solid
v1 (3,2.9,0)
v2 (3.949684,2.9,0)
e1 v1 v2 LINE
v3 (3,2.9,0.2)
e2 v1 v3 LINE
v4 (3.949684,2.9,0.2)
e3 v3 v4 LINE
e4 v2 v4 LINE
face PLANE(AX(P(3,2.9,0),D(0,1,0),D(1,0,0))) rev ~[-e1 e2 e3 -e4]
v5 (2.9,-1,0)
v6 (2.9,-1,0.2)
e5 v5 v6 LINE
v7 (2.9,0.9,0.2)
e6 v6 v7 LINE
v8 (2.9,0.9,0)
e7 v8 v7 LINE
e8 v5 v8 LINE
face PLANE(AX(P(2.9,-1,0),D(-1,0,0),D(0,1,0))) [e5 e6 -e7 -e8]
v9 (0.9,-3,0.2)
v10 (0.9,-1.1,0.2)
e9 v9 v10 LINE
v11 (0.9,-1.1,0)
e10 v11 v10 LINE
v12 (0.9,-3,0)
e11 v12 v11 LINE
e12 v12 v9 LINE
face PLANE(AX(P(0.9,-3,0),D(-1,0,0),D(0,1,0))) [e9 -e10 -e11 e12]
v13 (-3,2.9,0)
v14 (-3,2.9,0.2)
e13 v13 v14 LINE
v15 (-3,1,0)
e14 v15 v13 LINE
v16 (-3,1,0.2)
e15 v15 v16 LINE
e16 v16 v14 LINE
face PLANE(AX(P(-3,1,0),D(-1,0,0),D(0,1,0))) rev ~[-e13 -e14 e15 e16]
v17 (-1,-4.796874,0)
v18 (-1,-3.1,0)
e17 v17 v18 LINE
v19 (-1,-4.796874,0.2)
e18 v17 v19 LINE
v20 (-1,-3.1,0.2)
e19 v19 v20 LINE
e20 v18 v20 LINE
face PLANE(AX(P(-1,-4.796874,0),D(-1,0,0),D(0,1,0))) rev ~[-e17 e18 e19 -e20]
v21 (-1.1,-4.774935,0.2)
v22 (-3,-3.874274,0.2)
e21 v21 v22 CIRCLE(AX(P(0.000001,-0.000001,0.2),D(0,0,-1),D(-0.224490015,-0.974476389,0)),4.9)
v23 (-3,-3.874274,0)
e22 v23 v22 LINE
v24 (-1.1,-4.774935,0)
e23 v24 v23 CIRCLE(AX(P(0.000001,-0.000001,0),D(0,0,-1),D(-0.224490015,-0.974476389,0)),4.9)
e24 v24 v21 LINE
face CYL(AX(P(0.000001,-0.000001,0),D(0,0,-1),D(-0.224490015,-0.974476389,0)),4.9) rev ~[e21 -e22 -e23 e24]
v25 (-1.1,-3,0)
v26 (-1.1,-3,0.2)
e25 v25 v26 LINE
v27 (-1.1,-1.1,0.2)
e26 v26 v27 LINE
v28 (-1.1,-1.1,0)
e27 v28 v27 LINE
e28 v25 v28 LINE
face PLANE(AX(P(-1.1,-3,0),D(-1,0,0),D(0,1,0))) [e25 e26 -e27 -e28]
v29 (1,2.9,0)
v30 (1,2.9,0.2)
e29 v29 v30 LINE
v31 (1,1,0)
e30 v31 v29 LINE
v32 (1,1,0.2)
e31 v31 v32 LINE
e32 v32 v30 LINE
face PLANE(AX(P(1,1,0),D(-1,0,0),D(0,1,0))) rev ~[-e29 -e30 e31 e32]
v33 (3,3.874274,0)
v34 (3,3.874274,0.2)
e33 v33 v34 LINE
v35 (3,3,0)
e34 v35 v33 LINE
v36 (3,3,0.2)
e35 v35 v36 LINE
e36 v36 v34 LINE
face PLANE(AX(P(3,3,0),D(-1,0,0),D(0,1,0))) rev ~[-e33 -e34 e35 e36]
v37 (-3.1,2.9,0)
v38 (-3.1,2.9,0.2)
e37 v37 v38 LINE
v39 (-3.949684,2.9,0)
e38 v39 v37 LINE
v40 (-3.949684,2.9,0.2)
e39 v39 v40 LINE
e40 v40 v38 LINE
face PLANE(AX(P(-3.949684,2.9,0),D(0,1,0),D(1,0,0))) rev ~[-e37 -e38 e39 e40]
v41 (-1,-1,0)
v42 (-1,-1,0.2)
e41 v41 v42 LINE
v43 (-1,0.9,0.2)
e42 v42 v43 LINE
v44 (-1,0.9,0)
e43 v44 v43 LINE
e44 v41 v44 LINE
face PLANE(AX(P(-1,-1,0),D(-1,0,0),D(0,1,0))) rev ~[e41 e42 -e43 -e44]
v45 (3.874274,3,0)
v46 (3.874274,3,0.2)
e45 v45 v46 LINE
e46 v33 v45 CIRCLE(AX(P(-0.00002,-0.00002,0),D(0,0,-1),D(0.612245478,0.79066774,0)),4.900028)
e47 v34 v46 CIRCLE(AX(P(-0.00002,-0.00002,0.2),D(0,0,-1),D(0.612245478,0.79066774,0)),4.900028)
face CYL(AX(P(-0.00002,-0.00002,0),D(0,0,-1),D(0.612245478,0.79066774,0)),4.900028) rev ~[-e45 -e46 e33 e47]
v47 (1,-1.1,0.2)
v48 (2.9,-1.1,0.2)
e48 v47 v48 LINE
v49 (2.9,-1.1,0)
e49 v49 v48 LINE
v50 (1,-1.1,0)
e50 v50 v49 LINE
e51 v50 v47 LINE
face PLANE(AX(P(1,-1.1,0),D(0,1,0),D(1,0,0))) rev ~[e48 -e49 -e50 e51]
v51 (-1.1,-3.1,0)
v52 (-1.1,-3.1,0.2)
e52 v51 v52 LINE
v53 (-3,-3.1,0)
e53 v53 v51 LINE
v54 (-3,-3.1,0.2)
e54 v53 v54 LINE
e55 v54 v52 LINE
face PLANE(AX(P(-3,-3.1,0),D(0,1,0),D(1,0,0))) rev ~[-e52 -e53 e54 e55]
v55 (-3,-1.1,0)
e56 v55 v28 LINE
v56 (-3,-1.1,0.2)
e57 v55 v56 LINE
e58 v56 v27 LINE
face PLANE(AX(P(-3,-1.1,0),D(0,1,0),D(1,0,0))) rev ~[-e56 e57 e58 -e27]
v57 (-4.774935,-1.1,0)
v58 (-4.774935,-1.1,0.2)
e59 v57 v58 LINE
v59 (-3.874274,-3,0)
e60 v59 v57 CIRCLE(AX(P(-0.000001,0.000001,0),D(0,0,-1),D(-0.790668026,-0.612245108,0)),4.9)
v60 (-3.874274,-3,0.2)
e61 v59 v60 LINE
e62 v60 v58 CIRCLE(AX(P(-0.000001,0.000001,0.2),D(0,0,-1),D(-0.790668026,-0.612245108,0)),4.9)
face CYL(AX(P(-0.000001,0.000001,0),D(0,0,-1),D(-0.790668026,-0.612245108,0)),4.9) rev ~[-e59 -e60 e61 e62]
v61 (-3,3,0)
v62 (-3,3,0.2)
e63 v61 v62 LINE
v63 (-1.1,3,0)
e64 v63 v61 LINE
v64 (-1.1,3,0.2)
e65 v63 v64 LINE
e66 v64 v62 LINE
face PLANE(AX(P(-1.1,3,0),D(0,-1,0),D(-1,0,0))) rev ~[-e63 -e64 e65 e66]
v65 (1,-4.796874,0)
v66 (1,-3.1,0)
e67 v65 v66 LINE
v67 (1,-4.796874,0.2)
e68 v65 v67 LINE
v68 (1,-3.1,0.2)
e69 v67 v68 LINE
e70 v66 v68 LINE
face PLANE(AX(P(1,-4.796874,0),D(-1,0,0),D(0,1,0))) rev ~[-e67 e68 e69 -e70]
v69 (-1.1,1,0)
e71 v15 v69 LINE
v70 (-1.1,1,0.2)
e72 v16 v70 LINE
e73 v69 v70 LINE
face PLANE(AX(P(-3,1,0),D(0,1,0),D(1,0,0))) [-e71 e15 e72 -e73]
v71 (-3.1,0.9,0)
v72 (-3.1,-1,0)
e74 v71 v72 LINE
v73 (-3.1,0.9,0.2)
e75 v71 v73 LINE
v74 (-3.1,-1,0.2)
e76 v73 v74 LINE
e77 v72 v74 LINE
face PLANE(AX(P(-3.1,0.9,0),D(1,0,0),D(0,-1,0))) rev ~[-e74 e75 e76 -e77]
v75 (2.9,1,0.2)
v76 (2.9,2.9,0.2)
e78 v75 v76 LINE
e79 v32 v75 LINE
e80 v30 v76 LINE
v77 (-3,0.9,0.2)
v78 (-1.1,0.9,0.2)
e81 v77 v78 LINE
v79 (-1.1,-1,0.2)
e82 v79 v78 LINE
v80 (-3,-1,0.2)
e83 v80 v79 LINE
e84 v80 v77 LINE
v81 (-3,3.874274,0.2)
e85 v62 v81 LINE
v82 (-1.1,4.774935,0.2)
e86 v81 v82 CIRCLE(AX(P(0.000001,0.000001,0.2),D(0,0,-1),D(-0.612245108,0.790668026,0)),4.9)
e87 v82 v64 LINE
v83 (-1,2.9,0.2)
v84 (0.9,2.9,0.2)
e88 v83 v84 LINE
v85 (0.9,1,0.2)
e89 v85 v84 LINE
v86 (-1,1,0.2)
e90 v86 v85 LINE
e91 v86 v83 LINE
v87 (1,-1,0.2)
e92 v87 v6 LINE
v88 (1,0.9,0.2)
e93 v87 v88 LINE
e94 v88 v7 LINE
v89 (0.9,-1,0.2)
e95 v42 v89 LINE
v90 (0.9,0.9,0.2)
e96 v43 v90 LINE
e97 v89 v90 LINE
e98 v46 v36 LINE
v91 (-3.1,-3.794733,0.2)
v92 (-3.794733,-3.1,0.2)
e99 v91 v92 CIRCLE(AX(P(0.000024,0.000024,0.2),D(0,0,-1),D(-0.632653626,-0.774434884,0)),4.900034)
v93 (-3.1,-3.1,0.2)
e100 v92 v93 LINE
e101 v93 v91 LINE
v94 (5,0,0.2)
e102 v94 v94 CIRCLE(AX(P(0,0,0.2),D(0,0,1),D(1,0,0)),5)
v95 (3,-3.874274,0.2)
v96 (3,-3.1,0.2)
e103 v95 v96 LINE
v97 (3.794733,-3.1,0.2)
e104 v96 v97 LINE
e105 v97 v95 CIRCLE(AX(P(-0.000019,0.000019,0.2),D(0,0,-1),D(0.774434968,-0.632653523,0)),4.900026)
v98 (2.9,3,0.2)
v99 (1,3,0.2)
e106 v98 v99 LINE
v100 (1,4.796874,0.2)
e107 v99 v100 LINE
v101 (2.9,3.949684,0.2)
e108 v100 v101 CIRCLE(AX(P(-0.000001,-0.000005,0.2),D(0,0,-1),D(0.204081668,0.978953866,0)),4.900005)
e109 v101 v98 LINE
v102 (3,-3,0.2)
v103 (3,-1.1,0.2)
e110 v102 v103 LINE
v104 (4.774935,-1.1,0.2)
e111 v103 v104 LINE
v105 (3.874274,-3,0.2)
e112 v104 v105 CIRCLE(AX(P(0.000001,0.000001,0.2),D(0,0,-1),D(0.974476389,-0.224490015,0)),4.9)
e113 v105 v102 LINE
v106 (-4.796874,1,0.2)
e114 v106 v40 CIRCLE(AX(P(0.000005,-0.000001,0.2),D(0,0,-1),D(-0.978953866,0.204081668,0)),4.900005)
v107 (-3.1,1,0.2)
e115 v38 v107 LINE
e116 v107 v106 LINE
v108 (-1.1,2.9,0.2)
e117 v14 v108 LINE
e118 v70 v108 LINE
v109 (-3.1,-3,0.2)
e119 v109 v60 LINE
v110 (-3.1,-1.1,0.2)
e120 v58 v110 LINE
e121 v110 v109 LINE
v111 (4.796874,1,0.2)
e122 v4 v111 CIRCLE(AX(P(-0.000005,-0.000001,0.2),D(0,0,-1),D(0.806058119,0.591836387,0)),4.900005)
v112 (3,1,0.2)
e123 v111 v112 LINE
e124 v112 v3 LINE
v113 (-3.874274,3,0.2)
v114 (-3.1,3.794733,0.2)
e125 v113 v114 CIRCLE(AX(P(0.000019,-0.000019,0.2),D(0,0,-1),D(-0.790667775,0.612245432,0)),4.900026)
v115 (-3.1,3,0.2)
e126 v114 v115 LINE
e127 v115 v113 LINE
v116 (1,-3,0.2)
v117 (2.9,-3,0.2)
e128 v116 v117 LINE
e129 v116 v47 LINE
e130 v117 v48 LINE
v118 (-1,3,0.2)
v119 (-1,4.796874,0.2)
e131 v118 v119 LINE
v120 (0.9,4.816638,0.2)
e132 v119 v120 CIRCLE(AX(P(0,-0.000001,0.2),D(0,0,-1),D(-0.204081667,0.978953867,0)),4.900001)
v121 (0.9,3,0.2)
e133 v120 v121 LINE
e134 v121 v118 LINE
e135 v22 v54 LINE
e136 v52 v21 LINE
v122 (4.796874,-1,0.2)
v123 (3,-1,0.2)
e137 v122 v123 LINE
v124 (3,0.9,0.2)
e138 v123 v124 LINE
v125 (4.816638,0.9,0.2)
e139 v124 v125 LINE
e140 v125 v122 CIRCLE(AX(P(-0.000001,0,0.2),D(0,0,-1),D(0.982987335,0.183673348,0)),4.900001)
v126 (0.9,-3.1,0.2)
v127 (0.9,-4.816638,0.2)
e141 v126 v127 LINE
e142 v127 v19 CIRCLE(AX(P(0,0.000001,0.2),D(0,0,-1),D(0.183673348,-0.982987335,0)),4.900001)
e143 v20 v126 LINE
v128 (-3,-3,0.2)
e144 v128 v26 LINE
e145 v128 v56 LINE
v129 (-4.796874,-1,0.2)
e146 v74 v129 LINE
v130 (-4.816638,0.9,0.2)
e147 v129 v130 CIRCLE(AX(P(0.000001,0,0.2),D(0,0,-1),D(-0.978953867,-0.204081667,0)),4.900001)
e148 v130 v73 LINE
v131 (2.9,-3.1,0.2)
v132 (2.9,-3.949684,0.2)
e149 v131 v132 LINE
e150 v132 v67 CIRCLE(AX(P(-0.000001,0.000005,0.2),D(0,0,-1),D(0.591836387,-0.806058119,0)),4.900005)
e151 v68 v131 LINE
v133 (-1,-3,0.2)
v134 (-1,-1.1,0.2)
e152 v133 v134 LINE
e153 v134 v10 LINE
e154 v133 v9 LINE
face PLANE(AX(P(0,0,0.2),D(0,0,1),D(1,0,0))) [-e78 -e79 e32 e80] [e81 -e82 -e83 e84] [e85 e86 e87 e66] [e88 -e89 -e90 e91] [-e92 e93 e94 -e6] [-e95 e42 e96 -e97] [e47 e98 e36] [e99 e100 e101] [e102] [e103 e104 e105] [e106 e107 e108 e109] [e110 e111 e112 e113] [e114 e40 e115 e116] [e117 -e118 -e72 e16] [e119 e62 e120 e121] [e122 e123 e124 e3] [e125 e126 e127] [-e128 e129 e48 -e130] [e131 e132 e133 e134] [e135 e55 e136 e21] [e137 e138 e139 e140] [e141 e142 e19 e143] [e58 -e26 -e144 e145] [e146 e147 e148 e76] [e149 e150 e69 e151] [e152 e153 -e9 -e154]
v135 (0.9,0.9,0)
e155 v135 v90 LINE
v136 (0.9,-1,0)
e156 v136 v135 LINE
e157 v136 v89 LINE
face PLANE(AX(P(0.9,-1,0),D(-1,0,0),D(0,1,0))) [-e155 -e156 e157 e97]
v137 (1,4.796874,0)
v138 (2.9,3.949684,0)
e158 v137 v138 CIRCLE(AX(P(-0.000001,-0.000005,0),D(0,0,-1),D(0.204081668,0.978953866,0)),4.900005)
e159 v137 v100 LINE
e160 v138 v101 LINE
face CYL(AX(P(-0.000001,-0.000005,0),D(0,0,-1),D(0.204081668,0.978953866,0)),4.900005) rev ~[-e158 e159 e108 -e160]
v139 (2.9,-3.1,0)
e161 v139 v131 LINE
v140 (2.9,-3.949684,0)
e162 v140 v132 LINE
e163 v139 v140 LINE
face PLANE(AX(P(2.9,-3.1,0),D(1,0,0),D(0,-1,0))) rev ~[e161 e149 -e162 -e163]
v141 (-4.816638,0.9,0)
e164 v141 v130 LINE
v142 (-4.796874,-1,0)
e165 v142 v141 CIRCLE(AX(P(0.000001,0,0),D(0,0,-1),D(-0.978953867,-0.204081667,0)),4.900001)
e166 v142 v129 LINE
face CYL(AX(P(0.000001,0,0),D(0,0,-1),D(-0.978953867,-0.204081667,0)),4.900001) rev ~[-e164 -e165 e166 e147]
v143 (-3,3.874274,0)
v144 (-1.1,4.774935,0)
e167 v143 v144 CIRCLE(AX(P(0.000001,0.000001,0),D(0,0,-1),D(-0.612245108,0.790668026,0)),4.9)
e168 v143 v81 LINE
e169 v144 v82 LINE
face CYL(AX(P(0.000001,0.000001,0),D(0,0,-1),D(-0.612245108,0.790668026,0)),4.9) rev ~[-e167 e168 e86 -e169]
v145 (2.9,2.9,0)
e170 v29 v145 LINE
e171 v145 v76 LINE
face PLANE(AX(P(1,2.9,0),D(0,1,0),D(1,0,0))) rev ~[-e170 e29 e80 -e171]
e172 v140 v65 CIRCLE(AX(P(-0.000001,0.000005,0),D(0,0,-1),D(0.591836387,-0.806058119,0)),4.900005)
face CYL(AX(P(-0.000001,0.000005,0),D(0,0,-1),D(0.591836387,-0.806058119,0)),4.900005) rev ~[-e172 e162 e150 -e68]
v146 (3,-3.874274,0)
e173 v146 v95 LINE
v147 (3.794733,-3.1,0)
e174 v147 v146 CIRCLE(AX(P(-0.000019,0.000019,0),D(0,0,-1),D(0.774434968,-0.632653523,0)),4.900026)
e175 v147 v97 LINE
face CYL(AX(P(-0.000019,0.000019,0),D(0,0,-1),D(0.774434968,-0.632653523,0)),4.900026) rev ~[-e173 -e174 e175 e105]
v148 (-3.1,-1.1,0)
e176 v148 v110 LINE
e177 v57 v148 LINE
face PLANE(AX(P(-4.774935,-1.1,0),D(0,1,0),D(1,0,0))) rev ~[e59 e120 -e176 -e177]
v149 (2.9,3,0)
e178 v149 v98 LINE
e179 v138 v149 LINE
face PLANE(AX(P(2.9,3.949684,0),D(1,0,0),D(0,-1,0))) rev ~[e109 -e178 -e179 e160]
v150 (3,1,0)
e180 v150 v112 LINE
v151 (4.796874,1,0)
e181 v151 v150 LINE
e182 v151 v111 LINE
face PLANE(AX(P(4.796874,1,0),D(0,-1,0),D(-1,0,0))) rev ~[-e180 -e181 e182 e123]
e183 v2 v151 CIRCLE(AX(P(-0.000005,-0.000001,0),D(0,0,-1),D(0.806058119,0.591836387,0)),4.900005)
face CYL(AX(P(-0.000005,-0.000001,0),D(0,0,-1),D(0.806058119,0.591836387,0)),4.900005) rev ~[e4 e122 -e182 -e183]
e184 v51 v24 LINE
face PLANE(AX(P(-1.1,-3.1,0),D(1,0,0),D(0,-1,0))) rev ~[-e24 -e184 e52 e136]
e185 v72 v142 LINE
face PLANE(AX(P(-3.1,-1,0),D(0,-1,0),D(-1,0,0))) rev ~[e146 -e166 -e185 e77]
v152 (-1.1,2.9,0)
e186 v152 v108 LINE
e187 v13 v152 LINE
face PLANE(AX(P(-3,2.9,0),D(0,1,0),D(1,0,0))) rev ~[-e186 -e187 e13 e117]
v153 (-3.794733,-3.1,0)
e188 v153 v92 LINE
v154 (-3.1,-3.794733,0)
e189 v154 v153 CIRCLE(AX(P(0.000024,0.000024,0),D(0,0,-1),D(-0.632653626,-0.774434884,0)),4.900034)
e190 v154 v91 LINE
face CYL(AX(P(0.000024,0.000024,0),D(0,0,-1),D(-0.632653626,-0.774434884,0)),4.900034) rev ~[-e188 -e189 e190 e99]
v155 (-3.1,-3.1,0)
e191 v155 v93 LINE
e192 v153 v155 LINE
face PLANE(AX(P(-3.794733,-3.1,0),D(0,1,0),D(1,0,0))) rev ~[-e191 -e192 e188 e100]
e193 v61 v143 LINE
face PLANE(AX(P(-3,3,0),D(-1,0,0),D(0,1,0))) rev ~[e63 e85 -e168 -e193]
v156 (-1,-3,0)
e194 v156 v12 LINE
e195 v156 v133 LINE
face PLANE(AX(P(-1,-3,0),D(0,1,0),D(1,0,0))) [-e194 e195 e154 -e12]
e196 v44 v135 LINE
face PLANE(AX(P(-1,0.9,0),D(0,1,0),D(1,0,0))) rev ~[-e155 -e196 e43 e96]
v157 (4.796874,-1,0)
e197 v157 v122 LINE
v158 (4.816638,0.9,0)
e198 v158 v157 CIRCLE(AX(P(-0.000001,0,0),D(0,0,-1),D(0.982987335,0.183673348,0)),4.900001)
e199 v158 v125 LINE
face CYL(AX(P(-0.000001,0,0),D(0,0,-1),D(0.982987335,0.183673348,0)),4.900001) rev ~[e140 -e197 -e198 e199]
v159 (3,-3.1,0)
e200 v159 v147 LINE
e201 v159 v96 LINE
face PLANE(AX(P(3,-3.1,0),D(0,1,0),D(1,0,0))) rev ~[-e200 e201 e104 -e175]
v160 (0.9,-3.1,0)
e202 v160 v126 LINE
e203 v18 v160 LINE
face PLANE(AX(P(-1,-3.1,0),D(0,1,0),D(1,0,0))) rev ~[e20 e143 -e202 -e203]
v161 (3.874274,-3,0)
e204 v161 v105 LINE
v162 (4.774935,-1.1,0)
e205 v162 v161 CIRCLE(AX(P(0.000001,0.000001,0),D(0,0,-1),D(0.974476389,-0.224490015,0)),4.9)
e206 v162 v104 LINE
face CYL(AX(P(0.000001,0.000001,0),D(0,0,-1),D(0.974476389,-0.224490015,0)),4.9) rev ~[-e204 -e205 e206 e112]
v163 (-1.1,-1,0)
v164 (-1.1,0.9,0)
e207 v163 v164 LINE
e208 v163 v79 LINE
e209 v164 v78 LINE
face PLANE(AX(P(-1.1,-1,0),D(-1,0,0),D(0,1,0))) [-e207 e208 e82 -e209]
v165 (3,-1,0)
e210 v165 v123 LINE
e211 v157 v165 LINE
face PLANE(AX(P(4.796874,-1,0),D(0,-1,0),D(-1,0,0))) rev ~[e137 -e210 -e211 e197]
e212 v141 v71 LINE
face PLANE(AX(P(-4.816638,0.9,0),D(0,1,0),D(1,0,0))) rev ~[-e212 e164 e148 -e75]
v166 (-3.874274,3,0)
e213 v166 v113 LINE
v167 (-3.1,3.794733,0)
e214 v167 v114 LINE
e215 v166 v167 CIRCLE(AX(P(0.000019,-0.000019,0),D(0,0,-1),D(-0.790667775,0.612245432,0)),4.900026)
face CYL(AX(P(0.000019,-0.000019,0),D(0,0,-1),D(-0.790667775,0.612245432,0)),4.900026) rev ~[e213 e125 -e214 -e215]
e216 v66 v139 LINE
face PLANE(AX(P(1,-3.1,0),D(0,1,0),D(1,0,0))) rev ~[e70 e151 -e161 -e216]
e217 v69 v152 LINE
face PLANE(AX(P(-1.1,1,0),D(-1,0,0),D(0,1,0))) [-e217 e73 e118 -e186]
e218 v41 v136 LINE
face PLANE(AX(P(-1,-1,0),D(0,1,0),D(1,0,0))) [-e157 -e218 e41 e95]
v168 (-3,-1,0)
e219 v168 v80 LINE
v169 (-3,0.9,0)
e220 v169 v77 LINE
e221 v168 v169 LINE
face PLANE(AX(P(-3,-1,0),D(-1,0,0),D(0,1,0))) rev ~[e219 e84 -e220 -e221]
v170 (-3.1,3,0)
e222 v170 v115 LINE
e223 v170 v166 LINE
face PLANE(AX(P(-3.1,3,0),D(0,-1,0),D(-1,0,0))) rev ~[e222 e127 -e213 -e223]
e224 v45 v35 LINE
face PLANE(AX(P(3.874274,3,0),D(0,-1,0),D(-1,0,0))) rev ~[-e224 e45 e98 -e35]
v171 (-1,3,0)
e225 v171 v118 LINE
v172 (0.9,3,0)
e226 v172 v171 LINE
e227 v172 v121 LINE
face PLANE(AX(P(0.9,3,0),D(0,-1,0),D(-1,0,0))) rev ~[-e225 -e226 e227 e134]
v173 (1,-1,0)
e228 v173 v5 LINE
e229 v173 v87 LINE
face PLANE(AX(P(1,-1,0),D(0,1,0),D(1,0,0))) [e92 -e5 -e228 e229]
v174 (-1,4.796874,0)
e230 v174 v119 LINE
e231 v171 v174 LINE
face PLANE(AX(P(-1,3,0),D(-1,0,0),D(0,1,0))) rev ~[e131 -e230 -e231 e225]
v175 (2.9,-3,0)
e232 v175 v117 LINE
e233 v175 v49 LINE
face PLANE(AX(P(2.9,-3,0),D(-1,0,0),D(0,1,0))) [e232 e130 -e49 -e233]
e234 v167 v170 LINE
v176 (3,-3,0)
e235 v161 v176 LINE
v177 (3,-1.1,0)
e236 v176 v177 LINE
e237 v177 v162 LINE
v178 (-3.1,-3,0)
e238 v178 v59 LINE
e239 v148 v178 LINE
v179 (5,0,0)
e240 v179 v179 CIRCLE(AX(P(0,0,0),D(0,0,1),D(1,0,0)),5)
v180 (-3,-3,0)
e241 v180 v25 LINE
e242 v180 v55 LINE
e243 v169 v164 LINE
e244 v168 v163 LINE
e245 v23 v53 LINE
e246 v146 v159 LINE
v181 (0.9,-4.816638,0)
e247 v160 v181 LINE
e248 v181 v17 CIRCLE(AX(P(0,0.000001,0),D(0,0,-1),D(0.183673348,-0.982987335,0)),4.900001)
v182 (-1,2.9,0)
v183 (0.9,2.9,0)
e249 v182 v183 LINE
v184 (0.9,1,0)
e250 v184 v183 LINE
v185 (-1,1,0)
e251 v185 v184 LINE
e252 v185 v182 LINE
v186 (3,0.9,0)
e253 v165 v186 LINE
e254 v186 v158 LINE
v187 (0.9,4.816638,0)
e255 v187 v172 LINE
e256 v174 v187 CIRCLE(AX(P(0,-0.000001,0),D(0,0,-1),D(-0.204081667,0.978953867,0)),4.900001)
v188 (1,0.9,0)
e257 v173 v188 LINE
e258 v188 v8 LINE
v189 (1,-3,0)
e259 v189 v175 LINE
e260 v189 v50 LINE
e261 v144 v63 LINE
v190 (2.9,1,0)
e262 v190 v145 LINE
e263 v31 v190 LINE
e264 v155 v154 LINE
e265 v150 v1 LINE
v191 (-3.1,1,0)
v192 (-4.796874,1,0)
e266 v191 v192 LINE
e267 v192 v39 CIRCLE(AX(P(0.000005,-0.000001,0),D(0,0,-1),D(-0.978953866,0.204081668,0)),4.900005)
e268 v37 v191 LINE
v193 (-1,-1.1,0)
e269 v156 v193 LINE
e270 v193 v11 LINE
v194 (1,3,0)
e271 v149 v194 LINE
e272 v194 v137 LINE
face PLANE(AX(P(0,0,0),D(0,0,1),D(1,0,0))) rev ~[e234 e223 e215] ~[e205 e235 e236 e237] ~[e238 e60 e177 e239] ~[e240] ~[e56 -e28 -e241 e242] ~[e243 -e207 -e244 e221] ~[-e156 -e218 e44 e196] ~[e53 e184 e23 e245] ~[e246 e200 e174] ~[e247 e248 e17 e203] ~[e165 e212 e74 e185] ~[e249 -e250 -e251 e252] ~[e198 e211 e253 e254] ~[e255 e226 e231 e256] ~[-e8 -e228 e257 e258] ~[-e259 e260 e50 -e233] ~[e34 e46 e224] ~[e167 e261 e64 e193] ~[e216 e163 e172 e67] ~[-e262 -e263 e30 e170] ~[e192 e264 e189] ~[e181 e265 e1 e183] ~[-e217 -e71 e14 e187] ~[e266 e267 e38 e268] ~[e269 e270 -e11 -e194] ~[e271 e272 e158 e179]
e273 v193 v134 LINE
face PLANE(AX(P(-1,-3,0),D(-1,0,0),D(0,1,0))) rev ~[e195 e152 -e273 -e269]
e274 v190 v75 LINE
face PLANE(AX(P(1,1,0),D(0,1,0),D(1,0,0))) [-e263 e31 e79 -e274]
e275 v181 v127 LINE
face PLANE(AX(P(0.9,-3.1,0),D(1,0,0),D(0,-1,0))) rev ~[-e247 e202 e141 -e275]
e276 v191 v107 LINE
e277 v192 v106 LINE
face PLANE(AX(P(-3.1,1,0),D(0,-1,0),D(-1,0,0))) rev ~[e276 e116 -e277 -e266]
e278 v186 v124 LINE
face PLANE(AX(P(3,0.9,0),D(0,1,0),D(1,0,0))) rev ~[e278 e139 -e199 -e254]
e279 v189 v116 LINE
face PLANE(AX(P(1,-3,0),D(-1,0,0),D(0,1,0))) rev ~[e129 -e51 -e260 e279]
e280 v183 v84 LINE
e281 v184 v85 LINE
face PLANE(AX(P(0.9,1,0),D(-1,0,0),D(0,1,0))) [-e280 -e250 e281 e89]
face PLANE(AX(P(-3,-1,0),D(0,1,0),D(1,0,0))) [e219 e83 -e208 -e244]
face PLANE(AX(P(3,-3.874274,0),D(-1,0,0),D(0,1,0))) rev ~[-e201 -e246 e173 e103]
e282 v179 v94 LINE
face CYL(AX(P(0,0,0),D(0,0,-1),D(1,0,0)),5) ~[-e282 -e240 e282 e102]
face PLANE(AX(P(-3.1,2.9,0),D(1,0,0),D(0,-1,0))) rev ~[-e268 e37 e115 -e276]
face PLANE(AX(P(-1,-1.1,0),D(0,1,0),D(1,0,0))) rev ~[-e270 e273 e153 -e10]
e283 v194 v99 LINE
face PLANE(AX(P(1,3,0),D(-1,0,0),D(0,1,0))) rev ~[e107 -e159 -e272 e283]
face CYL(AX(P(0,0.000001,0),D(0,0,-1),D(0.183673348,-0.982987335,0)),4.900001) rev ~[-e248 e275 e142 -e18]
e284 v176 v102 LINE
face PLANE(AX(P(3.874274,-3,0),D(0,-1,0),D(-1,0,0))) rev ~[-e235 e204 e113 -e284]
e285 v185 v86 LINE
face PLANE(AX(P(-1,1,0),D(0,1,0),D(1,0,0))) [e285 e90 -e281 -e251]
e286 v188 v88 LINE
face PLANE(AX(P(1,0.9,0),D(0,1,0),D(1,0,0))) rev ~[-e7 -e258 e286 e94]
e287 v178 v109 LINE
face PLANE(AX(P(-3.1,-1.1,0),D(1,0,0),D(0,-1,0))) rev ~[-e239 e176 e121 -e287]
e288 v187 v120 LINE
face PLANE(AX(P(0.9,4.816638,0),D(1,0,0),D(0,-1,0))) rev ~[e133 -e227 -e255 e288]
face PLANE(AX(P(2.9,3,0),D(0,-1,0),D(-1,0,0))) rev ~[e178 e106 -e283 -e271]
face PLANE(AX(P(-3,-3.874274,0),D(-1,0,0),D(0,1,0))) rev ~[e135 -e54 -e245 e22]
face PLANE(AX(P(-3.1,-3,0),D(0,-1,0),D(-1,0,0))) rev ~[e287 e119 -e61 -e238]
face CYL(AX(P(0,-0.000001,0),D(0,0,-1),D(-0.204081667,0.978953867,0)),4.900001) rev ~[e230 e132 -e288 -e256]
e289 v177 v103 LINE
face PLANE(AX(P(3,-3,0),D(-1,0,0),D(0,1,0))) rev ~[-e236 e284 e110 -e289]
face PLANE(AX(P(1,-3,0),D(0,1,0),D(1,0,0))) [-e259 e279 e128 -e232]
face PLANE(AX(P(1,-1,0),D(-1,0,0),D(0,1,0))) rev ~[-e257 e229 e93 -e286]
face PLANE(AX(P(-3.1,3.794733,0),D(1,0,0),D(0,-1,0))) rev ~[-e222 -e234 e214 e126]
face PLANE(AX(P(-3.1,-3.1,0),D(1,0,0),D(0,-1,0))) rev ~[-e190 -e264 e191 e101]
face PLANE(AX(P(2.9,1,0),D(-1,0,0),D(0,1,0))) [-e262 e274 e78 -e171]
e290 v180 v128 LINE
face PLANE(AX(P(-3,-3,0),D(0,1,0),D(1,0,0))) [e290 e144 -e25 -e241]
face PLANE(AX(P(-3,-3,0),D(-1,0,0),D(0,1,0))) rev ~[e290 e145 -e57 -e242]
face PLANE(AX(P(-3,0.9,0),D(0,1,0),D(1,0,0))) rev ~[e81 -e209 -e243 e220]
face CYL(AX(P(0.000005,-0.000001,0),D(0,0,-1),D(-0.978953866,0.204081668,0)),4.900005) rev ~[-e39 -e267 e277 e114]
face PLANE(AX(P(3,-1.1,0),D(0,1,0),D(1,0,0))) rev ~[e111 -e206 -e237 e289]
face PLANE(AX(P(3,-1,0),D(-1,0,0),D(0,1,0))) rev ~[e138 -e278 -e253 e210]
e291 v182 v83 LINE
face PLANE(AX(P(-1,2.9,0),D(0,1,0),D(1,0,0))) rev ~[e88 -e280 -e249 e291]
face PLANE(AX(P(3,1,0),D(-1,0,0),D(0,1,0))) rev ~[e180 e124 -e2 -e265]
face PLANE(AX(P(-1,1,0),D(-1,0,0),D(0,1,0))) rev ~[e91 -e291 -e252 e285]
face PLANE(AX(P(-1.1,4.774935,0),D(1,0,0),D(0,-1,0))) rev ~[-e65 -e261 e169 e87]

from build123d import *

# Parameters (mm, degrees)
F0_R     = 5
F0_W     = 1.9
F0_H     = 1.9
F1_DEPTH = 0.2


with BuildPart() as f1:
    # F0 (on Top) → F1 (new body)
    with BuildSketch(Plane.XY):
        Circle(F0_R)
        with BuildLine():
            ThreePointArc((-3.1, -3.794733), (-3.464823, -3.464823), (-3.794733, -3.1))
            Line((-3.794733, -3.1), (-3.1, -3.1))
            Line((-3.1, -3.1), (-3.1, -3.794733))
        make_face(mode=Mode.SUBTRACT)
        with BuildLine():
            Line((-3, -3.1), (-1.1, -3.1))
            Line((-1.1, -3.1), (-1.1, -4.774935))
            ThreePointArc((-1.1, -4.774935), (-2.09888, -4.42772), (-3, -3.874274))
            Line((-3, -3.874274), (-3, -3.1))
        make_face(mode=Mode.SUBTRACT)
        with BuildLine():
            Line((-1, -3.1), (0.9, -3.1))
            Line((0.9, -3.1), (0.9, -4.816638))
            ThreePointArc((0.9, -4.816638), (-0.050967, -4.899735), (-1, -4.796874))
            Line((-1, -4.796874), (-1, -3.1))
        make_face(mode=Mode.SUBTRACT)
        with BuildLine():
            ThreePointArc((-3.874274, -3), (-4.42772, -2.09888), (-4.774935, -1.1))
            Line((-4.774935, -1.1), (-3.1, -1.1))
            Line((-3.1, -1.1), (-3.1, -3))
            Line((-3.1, -3), (-3.874274, -3))
        make_face(mode=Mode.SUBTRACT)
        with BuildLine():
            Line((-4.816638, 0.9), (-3.1, 0.9))
            Line((-3.1, 0.9), (-3.1, -1))
            Line((-3.1, -1), (-4.796874, -1))
            ThreePointArc((-4.796874, -1), (-4.899735, -0.050967), (-4.816638, 0.9))
        make_face(mode=Mode.SUBTRACT)
        with Locations((-2.05, -2.05)):
            Rectangle(F0_W, F0_H, mode=Mode.SUBTRACT)
        with Locations((-0.05, -2.05)):
            Rectangle(F0_W, F0_H, mode=Mode.SUBTRACT)
        with Locations((-2.05, -0.05)):
            Rectangle(F0_W, F0_H, mode=Mode.SUBTRACT)
        with Locations((-0.05, -0.05)):
            Rectangle(F0_W, F0_H, mode=Mode.SUBTRACT)
        with BuildLine():
            Line((1, -3.1), (2.9, -3.1))
            Line((2.9, -3.1), (2.9, -3.949684))
            ThreePointArc((2.9, -3.949684), (1.995478, -4.475273), (1, -4.796874))
            Line((1, -4.796874), (1, -3.1))
        make_face(mode=Mode.SUBTRACT)
        with BuildLine():
            Line((3, -3.1), (3.794733, -3.1))
            ThreePointArc((3.794733, -3.1), (3.419353, -3.509704), (3, -3.874274))
            Line((3, -3.874274), (3, -3.1))
        make_face(mode=Mode.SUBTRACT)
        with Locations((1.95, -2.05)):
            Rectangle(F0_W, F0_H, mode=Mode.SUBTRACT)
        with Locations((1.95, -0.05)):
            Rectangle(F0_W, F0_H, mode=Mode.SUBTRACT)
        with BuildLine():
            Line((3, -3), (3, -1.1))
            Line((3, -1.1), (4.774935, -1.1))
            ThreePointArc((4.774935, -1.1), (4.42772, -2.09888), (3.874274, -3))
            Line((3.874274, -3), (3, -3))
        make_face(mode=Mode.SUBTRACT)
        with BuildLine():
            Line((3, 0.9), (4.816638, 0.9))
            ThreePointArc((4.816638, 0.9), (4.899735, -0.050967), (4.796874, -1))
            Line((4.796874, -1), (3, -1))
            Line((3, -1), (3, 0.9))
        make_face(mode=Mode.SUBTRACT)
        with BuildLine():
            ThreePointArc((-4.796874, 1), (-4.475273, 1.995478), (-3.949684, 2.9))
            Line((-3.949684, 2.9), (-3.1, 2.9))
            Line((-3.1, 2.9), (-3.1, 1))
            Line((-3.1, 1), (-4.796874, 1))
        make_face(mode=Mode.SUBTRACT)
        with Locations((-2.05, 1.95)):
            Rectangle(F0_W, F0_H, mode=Mode.SUBTRACT)
        with Locations((-0.05, 1.95)):
            Rectangle(F0_W, F0_H, mode=Mode.SUBTRACT)
        with BuildLine():
            ThreePointArc((-3.874274, 3), (-3.509704, 3.419353), (-3.1, 3.794733))
            Line((-3.1, 3.794733), (-3.1, 3))
            Line((-3.1, 3), (-3.874274, 3))
        make_face(mode=Mode.SUBTRACT)
        with BuildLine():
            Line((-3, 3), (-3, 3.874274))
            ThreePointArc((-3, 3.874274), (-2.09888, 4.42772), (-1.1, 4.774935))
            Line((-1.1, 4.774935), (-1.1, 3))
            Line((-1.1, 3), (-3, 3))
        make_face(mode=Mode.SUBTRACT)
        with BuildLine():
            Line((-1, 3), (-1, 4.796874))
            ThreePointArc((-1, 4.796874), (-0.050967, 4.899735), (0.9, 4.816638))
            Line((0.9, 4.816638), (0.9, 3))
            Line((0.9, 3), (-1, 3))
        make_face(mode=Mode.SUBTRACT)
        with Locations((1.95, 1.95)):
            Rectangle(F0_W, F0_H, mode=Mode.SUBTRACT)
        with BuildLine():
            Line((3, 1), (3, 2.9))
            Line((3, 2.9), (3.949684, 2.9))
            ThreePointArc((3.949684, 2.9), (4.475273, 1.995478), (4.796874, 1))
            Line((4.796874, 1), (3, 1))
        make_face(mode=Mode.SUBTRACT)
        with BuildLine():
            Line((1, 3), (1, 4.796874))
            ThreePointArc((1, 4.796874), (1.995478, 4.475273), (2.9, 3.949684))
            Line((2.9, 3.949684), (2.9, 3))
            Line((2.9, 3), (1, 3))
        make_face(mode=Mode.SUBTRACT)
        with BuildLine():
            Line((3, 3), (3, 3.874274))
            ThreePointArc((3, 3.874274), (3.464823, 3.464823), (3.874274, 3))
            Line((3.874274, 3), (3, 3))
        make_face(mode=Mode.SUBTRACT)
    extrude(amount=F1_DEPTH)


solid = f1.part
